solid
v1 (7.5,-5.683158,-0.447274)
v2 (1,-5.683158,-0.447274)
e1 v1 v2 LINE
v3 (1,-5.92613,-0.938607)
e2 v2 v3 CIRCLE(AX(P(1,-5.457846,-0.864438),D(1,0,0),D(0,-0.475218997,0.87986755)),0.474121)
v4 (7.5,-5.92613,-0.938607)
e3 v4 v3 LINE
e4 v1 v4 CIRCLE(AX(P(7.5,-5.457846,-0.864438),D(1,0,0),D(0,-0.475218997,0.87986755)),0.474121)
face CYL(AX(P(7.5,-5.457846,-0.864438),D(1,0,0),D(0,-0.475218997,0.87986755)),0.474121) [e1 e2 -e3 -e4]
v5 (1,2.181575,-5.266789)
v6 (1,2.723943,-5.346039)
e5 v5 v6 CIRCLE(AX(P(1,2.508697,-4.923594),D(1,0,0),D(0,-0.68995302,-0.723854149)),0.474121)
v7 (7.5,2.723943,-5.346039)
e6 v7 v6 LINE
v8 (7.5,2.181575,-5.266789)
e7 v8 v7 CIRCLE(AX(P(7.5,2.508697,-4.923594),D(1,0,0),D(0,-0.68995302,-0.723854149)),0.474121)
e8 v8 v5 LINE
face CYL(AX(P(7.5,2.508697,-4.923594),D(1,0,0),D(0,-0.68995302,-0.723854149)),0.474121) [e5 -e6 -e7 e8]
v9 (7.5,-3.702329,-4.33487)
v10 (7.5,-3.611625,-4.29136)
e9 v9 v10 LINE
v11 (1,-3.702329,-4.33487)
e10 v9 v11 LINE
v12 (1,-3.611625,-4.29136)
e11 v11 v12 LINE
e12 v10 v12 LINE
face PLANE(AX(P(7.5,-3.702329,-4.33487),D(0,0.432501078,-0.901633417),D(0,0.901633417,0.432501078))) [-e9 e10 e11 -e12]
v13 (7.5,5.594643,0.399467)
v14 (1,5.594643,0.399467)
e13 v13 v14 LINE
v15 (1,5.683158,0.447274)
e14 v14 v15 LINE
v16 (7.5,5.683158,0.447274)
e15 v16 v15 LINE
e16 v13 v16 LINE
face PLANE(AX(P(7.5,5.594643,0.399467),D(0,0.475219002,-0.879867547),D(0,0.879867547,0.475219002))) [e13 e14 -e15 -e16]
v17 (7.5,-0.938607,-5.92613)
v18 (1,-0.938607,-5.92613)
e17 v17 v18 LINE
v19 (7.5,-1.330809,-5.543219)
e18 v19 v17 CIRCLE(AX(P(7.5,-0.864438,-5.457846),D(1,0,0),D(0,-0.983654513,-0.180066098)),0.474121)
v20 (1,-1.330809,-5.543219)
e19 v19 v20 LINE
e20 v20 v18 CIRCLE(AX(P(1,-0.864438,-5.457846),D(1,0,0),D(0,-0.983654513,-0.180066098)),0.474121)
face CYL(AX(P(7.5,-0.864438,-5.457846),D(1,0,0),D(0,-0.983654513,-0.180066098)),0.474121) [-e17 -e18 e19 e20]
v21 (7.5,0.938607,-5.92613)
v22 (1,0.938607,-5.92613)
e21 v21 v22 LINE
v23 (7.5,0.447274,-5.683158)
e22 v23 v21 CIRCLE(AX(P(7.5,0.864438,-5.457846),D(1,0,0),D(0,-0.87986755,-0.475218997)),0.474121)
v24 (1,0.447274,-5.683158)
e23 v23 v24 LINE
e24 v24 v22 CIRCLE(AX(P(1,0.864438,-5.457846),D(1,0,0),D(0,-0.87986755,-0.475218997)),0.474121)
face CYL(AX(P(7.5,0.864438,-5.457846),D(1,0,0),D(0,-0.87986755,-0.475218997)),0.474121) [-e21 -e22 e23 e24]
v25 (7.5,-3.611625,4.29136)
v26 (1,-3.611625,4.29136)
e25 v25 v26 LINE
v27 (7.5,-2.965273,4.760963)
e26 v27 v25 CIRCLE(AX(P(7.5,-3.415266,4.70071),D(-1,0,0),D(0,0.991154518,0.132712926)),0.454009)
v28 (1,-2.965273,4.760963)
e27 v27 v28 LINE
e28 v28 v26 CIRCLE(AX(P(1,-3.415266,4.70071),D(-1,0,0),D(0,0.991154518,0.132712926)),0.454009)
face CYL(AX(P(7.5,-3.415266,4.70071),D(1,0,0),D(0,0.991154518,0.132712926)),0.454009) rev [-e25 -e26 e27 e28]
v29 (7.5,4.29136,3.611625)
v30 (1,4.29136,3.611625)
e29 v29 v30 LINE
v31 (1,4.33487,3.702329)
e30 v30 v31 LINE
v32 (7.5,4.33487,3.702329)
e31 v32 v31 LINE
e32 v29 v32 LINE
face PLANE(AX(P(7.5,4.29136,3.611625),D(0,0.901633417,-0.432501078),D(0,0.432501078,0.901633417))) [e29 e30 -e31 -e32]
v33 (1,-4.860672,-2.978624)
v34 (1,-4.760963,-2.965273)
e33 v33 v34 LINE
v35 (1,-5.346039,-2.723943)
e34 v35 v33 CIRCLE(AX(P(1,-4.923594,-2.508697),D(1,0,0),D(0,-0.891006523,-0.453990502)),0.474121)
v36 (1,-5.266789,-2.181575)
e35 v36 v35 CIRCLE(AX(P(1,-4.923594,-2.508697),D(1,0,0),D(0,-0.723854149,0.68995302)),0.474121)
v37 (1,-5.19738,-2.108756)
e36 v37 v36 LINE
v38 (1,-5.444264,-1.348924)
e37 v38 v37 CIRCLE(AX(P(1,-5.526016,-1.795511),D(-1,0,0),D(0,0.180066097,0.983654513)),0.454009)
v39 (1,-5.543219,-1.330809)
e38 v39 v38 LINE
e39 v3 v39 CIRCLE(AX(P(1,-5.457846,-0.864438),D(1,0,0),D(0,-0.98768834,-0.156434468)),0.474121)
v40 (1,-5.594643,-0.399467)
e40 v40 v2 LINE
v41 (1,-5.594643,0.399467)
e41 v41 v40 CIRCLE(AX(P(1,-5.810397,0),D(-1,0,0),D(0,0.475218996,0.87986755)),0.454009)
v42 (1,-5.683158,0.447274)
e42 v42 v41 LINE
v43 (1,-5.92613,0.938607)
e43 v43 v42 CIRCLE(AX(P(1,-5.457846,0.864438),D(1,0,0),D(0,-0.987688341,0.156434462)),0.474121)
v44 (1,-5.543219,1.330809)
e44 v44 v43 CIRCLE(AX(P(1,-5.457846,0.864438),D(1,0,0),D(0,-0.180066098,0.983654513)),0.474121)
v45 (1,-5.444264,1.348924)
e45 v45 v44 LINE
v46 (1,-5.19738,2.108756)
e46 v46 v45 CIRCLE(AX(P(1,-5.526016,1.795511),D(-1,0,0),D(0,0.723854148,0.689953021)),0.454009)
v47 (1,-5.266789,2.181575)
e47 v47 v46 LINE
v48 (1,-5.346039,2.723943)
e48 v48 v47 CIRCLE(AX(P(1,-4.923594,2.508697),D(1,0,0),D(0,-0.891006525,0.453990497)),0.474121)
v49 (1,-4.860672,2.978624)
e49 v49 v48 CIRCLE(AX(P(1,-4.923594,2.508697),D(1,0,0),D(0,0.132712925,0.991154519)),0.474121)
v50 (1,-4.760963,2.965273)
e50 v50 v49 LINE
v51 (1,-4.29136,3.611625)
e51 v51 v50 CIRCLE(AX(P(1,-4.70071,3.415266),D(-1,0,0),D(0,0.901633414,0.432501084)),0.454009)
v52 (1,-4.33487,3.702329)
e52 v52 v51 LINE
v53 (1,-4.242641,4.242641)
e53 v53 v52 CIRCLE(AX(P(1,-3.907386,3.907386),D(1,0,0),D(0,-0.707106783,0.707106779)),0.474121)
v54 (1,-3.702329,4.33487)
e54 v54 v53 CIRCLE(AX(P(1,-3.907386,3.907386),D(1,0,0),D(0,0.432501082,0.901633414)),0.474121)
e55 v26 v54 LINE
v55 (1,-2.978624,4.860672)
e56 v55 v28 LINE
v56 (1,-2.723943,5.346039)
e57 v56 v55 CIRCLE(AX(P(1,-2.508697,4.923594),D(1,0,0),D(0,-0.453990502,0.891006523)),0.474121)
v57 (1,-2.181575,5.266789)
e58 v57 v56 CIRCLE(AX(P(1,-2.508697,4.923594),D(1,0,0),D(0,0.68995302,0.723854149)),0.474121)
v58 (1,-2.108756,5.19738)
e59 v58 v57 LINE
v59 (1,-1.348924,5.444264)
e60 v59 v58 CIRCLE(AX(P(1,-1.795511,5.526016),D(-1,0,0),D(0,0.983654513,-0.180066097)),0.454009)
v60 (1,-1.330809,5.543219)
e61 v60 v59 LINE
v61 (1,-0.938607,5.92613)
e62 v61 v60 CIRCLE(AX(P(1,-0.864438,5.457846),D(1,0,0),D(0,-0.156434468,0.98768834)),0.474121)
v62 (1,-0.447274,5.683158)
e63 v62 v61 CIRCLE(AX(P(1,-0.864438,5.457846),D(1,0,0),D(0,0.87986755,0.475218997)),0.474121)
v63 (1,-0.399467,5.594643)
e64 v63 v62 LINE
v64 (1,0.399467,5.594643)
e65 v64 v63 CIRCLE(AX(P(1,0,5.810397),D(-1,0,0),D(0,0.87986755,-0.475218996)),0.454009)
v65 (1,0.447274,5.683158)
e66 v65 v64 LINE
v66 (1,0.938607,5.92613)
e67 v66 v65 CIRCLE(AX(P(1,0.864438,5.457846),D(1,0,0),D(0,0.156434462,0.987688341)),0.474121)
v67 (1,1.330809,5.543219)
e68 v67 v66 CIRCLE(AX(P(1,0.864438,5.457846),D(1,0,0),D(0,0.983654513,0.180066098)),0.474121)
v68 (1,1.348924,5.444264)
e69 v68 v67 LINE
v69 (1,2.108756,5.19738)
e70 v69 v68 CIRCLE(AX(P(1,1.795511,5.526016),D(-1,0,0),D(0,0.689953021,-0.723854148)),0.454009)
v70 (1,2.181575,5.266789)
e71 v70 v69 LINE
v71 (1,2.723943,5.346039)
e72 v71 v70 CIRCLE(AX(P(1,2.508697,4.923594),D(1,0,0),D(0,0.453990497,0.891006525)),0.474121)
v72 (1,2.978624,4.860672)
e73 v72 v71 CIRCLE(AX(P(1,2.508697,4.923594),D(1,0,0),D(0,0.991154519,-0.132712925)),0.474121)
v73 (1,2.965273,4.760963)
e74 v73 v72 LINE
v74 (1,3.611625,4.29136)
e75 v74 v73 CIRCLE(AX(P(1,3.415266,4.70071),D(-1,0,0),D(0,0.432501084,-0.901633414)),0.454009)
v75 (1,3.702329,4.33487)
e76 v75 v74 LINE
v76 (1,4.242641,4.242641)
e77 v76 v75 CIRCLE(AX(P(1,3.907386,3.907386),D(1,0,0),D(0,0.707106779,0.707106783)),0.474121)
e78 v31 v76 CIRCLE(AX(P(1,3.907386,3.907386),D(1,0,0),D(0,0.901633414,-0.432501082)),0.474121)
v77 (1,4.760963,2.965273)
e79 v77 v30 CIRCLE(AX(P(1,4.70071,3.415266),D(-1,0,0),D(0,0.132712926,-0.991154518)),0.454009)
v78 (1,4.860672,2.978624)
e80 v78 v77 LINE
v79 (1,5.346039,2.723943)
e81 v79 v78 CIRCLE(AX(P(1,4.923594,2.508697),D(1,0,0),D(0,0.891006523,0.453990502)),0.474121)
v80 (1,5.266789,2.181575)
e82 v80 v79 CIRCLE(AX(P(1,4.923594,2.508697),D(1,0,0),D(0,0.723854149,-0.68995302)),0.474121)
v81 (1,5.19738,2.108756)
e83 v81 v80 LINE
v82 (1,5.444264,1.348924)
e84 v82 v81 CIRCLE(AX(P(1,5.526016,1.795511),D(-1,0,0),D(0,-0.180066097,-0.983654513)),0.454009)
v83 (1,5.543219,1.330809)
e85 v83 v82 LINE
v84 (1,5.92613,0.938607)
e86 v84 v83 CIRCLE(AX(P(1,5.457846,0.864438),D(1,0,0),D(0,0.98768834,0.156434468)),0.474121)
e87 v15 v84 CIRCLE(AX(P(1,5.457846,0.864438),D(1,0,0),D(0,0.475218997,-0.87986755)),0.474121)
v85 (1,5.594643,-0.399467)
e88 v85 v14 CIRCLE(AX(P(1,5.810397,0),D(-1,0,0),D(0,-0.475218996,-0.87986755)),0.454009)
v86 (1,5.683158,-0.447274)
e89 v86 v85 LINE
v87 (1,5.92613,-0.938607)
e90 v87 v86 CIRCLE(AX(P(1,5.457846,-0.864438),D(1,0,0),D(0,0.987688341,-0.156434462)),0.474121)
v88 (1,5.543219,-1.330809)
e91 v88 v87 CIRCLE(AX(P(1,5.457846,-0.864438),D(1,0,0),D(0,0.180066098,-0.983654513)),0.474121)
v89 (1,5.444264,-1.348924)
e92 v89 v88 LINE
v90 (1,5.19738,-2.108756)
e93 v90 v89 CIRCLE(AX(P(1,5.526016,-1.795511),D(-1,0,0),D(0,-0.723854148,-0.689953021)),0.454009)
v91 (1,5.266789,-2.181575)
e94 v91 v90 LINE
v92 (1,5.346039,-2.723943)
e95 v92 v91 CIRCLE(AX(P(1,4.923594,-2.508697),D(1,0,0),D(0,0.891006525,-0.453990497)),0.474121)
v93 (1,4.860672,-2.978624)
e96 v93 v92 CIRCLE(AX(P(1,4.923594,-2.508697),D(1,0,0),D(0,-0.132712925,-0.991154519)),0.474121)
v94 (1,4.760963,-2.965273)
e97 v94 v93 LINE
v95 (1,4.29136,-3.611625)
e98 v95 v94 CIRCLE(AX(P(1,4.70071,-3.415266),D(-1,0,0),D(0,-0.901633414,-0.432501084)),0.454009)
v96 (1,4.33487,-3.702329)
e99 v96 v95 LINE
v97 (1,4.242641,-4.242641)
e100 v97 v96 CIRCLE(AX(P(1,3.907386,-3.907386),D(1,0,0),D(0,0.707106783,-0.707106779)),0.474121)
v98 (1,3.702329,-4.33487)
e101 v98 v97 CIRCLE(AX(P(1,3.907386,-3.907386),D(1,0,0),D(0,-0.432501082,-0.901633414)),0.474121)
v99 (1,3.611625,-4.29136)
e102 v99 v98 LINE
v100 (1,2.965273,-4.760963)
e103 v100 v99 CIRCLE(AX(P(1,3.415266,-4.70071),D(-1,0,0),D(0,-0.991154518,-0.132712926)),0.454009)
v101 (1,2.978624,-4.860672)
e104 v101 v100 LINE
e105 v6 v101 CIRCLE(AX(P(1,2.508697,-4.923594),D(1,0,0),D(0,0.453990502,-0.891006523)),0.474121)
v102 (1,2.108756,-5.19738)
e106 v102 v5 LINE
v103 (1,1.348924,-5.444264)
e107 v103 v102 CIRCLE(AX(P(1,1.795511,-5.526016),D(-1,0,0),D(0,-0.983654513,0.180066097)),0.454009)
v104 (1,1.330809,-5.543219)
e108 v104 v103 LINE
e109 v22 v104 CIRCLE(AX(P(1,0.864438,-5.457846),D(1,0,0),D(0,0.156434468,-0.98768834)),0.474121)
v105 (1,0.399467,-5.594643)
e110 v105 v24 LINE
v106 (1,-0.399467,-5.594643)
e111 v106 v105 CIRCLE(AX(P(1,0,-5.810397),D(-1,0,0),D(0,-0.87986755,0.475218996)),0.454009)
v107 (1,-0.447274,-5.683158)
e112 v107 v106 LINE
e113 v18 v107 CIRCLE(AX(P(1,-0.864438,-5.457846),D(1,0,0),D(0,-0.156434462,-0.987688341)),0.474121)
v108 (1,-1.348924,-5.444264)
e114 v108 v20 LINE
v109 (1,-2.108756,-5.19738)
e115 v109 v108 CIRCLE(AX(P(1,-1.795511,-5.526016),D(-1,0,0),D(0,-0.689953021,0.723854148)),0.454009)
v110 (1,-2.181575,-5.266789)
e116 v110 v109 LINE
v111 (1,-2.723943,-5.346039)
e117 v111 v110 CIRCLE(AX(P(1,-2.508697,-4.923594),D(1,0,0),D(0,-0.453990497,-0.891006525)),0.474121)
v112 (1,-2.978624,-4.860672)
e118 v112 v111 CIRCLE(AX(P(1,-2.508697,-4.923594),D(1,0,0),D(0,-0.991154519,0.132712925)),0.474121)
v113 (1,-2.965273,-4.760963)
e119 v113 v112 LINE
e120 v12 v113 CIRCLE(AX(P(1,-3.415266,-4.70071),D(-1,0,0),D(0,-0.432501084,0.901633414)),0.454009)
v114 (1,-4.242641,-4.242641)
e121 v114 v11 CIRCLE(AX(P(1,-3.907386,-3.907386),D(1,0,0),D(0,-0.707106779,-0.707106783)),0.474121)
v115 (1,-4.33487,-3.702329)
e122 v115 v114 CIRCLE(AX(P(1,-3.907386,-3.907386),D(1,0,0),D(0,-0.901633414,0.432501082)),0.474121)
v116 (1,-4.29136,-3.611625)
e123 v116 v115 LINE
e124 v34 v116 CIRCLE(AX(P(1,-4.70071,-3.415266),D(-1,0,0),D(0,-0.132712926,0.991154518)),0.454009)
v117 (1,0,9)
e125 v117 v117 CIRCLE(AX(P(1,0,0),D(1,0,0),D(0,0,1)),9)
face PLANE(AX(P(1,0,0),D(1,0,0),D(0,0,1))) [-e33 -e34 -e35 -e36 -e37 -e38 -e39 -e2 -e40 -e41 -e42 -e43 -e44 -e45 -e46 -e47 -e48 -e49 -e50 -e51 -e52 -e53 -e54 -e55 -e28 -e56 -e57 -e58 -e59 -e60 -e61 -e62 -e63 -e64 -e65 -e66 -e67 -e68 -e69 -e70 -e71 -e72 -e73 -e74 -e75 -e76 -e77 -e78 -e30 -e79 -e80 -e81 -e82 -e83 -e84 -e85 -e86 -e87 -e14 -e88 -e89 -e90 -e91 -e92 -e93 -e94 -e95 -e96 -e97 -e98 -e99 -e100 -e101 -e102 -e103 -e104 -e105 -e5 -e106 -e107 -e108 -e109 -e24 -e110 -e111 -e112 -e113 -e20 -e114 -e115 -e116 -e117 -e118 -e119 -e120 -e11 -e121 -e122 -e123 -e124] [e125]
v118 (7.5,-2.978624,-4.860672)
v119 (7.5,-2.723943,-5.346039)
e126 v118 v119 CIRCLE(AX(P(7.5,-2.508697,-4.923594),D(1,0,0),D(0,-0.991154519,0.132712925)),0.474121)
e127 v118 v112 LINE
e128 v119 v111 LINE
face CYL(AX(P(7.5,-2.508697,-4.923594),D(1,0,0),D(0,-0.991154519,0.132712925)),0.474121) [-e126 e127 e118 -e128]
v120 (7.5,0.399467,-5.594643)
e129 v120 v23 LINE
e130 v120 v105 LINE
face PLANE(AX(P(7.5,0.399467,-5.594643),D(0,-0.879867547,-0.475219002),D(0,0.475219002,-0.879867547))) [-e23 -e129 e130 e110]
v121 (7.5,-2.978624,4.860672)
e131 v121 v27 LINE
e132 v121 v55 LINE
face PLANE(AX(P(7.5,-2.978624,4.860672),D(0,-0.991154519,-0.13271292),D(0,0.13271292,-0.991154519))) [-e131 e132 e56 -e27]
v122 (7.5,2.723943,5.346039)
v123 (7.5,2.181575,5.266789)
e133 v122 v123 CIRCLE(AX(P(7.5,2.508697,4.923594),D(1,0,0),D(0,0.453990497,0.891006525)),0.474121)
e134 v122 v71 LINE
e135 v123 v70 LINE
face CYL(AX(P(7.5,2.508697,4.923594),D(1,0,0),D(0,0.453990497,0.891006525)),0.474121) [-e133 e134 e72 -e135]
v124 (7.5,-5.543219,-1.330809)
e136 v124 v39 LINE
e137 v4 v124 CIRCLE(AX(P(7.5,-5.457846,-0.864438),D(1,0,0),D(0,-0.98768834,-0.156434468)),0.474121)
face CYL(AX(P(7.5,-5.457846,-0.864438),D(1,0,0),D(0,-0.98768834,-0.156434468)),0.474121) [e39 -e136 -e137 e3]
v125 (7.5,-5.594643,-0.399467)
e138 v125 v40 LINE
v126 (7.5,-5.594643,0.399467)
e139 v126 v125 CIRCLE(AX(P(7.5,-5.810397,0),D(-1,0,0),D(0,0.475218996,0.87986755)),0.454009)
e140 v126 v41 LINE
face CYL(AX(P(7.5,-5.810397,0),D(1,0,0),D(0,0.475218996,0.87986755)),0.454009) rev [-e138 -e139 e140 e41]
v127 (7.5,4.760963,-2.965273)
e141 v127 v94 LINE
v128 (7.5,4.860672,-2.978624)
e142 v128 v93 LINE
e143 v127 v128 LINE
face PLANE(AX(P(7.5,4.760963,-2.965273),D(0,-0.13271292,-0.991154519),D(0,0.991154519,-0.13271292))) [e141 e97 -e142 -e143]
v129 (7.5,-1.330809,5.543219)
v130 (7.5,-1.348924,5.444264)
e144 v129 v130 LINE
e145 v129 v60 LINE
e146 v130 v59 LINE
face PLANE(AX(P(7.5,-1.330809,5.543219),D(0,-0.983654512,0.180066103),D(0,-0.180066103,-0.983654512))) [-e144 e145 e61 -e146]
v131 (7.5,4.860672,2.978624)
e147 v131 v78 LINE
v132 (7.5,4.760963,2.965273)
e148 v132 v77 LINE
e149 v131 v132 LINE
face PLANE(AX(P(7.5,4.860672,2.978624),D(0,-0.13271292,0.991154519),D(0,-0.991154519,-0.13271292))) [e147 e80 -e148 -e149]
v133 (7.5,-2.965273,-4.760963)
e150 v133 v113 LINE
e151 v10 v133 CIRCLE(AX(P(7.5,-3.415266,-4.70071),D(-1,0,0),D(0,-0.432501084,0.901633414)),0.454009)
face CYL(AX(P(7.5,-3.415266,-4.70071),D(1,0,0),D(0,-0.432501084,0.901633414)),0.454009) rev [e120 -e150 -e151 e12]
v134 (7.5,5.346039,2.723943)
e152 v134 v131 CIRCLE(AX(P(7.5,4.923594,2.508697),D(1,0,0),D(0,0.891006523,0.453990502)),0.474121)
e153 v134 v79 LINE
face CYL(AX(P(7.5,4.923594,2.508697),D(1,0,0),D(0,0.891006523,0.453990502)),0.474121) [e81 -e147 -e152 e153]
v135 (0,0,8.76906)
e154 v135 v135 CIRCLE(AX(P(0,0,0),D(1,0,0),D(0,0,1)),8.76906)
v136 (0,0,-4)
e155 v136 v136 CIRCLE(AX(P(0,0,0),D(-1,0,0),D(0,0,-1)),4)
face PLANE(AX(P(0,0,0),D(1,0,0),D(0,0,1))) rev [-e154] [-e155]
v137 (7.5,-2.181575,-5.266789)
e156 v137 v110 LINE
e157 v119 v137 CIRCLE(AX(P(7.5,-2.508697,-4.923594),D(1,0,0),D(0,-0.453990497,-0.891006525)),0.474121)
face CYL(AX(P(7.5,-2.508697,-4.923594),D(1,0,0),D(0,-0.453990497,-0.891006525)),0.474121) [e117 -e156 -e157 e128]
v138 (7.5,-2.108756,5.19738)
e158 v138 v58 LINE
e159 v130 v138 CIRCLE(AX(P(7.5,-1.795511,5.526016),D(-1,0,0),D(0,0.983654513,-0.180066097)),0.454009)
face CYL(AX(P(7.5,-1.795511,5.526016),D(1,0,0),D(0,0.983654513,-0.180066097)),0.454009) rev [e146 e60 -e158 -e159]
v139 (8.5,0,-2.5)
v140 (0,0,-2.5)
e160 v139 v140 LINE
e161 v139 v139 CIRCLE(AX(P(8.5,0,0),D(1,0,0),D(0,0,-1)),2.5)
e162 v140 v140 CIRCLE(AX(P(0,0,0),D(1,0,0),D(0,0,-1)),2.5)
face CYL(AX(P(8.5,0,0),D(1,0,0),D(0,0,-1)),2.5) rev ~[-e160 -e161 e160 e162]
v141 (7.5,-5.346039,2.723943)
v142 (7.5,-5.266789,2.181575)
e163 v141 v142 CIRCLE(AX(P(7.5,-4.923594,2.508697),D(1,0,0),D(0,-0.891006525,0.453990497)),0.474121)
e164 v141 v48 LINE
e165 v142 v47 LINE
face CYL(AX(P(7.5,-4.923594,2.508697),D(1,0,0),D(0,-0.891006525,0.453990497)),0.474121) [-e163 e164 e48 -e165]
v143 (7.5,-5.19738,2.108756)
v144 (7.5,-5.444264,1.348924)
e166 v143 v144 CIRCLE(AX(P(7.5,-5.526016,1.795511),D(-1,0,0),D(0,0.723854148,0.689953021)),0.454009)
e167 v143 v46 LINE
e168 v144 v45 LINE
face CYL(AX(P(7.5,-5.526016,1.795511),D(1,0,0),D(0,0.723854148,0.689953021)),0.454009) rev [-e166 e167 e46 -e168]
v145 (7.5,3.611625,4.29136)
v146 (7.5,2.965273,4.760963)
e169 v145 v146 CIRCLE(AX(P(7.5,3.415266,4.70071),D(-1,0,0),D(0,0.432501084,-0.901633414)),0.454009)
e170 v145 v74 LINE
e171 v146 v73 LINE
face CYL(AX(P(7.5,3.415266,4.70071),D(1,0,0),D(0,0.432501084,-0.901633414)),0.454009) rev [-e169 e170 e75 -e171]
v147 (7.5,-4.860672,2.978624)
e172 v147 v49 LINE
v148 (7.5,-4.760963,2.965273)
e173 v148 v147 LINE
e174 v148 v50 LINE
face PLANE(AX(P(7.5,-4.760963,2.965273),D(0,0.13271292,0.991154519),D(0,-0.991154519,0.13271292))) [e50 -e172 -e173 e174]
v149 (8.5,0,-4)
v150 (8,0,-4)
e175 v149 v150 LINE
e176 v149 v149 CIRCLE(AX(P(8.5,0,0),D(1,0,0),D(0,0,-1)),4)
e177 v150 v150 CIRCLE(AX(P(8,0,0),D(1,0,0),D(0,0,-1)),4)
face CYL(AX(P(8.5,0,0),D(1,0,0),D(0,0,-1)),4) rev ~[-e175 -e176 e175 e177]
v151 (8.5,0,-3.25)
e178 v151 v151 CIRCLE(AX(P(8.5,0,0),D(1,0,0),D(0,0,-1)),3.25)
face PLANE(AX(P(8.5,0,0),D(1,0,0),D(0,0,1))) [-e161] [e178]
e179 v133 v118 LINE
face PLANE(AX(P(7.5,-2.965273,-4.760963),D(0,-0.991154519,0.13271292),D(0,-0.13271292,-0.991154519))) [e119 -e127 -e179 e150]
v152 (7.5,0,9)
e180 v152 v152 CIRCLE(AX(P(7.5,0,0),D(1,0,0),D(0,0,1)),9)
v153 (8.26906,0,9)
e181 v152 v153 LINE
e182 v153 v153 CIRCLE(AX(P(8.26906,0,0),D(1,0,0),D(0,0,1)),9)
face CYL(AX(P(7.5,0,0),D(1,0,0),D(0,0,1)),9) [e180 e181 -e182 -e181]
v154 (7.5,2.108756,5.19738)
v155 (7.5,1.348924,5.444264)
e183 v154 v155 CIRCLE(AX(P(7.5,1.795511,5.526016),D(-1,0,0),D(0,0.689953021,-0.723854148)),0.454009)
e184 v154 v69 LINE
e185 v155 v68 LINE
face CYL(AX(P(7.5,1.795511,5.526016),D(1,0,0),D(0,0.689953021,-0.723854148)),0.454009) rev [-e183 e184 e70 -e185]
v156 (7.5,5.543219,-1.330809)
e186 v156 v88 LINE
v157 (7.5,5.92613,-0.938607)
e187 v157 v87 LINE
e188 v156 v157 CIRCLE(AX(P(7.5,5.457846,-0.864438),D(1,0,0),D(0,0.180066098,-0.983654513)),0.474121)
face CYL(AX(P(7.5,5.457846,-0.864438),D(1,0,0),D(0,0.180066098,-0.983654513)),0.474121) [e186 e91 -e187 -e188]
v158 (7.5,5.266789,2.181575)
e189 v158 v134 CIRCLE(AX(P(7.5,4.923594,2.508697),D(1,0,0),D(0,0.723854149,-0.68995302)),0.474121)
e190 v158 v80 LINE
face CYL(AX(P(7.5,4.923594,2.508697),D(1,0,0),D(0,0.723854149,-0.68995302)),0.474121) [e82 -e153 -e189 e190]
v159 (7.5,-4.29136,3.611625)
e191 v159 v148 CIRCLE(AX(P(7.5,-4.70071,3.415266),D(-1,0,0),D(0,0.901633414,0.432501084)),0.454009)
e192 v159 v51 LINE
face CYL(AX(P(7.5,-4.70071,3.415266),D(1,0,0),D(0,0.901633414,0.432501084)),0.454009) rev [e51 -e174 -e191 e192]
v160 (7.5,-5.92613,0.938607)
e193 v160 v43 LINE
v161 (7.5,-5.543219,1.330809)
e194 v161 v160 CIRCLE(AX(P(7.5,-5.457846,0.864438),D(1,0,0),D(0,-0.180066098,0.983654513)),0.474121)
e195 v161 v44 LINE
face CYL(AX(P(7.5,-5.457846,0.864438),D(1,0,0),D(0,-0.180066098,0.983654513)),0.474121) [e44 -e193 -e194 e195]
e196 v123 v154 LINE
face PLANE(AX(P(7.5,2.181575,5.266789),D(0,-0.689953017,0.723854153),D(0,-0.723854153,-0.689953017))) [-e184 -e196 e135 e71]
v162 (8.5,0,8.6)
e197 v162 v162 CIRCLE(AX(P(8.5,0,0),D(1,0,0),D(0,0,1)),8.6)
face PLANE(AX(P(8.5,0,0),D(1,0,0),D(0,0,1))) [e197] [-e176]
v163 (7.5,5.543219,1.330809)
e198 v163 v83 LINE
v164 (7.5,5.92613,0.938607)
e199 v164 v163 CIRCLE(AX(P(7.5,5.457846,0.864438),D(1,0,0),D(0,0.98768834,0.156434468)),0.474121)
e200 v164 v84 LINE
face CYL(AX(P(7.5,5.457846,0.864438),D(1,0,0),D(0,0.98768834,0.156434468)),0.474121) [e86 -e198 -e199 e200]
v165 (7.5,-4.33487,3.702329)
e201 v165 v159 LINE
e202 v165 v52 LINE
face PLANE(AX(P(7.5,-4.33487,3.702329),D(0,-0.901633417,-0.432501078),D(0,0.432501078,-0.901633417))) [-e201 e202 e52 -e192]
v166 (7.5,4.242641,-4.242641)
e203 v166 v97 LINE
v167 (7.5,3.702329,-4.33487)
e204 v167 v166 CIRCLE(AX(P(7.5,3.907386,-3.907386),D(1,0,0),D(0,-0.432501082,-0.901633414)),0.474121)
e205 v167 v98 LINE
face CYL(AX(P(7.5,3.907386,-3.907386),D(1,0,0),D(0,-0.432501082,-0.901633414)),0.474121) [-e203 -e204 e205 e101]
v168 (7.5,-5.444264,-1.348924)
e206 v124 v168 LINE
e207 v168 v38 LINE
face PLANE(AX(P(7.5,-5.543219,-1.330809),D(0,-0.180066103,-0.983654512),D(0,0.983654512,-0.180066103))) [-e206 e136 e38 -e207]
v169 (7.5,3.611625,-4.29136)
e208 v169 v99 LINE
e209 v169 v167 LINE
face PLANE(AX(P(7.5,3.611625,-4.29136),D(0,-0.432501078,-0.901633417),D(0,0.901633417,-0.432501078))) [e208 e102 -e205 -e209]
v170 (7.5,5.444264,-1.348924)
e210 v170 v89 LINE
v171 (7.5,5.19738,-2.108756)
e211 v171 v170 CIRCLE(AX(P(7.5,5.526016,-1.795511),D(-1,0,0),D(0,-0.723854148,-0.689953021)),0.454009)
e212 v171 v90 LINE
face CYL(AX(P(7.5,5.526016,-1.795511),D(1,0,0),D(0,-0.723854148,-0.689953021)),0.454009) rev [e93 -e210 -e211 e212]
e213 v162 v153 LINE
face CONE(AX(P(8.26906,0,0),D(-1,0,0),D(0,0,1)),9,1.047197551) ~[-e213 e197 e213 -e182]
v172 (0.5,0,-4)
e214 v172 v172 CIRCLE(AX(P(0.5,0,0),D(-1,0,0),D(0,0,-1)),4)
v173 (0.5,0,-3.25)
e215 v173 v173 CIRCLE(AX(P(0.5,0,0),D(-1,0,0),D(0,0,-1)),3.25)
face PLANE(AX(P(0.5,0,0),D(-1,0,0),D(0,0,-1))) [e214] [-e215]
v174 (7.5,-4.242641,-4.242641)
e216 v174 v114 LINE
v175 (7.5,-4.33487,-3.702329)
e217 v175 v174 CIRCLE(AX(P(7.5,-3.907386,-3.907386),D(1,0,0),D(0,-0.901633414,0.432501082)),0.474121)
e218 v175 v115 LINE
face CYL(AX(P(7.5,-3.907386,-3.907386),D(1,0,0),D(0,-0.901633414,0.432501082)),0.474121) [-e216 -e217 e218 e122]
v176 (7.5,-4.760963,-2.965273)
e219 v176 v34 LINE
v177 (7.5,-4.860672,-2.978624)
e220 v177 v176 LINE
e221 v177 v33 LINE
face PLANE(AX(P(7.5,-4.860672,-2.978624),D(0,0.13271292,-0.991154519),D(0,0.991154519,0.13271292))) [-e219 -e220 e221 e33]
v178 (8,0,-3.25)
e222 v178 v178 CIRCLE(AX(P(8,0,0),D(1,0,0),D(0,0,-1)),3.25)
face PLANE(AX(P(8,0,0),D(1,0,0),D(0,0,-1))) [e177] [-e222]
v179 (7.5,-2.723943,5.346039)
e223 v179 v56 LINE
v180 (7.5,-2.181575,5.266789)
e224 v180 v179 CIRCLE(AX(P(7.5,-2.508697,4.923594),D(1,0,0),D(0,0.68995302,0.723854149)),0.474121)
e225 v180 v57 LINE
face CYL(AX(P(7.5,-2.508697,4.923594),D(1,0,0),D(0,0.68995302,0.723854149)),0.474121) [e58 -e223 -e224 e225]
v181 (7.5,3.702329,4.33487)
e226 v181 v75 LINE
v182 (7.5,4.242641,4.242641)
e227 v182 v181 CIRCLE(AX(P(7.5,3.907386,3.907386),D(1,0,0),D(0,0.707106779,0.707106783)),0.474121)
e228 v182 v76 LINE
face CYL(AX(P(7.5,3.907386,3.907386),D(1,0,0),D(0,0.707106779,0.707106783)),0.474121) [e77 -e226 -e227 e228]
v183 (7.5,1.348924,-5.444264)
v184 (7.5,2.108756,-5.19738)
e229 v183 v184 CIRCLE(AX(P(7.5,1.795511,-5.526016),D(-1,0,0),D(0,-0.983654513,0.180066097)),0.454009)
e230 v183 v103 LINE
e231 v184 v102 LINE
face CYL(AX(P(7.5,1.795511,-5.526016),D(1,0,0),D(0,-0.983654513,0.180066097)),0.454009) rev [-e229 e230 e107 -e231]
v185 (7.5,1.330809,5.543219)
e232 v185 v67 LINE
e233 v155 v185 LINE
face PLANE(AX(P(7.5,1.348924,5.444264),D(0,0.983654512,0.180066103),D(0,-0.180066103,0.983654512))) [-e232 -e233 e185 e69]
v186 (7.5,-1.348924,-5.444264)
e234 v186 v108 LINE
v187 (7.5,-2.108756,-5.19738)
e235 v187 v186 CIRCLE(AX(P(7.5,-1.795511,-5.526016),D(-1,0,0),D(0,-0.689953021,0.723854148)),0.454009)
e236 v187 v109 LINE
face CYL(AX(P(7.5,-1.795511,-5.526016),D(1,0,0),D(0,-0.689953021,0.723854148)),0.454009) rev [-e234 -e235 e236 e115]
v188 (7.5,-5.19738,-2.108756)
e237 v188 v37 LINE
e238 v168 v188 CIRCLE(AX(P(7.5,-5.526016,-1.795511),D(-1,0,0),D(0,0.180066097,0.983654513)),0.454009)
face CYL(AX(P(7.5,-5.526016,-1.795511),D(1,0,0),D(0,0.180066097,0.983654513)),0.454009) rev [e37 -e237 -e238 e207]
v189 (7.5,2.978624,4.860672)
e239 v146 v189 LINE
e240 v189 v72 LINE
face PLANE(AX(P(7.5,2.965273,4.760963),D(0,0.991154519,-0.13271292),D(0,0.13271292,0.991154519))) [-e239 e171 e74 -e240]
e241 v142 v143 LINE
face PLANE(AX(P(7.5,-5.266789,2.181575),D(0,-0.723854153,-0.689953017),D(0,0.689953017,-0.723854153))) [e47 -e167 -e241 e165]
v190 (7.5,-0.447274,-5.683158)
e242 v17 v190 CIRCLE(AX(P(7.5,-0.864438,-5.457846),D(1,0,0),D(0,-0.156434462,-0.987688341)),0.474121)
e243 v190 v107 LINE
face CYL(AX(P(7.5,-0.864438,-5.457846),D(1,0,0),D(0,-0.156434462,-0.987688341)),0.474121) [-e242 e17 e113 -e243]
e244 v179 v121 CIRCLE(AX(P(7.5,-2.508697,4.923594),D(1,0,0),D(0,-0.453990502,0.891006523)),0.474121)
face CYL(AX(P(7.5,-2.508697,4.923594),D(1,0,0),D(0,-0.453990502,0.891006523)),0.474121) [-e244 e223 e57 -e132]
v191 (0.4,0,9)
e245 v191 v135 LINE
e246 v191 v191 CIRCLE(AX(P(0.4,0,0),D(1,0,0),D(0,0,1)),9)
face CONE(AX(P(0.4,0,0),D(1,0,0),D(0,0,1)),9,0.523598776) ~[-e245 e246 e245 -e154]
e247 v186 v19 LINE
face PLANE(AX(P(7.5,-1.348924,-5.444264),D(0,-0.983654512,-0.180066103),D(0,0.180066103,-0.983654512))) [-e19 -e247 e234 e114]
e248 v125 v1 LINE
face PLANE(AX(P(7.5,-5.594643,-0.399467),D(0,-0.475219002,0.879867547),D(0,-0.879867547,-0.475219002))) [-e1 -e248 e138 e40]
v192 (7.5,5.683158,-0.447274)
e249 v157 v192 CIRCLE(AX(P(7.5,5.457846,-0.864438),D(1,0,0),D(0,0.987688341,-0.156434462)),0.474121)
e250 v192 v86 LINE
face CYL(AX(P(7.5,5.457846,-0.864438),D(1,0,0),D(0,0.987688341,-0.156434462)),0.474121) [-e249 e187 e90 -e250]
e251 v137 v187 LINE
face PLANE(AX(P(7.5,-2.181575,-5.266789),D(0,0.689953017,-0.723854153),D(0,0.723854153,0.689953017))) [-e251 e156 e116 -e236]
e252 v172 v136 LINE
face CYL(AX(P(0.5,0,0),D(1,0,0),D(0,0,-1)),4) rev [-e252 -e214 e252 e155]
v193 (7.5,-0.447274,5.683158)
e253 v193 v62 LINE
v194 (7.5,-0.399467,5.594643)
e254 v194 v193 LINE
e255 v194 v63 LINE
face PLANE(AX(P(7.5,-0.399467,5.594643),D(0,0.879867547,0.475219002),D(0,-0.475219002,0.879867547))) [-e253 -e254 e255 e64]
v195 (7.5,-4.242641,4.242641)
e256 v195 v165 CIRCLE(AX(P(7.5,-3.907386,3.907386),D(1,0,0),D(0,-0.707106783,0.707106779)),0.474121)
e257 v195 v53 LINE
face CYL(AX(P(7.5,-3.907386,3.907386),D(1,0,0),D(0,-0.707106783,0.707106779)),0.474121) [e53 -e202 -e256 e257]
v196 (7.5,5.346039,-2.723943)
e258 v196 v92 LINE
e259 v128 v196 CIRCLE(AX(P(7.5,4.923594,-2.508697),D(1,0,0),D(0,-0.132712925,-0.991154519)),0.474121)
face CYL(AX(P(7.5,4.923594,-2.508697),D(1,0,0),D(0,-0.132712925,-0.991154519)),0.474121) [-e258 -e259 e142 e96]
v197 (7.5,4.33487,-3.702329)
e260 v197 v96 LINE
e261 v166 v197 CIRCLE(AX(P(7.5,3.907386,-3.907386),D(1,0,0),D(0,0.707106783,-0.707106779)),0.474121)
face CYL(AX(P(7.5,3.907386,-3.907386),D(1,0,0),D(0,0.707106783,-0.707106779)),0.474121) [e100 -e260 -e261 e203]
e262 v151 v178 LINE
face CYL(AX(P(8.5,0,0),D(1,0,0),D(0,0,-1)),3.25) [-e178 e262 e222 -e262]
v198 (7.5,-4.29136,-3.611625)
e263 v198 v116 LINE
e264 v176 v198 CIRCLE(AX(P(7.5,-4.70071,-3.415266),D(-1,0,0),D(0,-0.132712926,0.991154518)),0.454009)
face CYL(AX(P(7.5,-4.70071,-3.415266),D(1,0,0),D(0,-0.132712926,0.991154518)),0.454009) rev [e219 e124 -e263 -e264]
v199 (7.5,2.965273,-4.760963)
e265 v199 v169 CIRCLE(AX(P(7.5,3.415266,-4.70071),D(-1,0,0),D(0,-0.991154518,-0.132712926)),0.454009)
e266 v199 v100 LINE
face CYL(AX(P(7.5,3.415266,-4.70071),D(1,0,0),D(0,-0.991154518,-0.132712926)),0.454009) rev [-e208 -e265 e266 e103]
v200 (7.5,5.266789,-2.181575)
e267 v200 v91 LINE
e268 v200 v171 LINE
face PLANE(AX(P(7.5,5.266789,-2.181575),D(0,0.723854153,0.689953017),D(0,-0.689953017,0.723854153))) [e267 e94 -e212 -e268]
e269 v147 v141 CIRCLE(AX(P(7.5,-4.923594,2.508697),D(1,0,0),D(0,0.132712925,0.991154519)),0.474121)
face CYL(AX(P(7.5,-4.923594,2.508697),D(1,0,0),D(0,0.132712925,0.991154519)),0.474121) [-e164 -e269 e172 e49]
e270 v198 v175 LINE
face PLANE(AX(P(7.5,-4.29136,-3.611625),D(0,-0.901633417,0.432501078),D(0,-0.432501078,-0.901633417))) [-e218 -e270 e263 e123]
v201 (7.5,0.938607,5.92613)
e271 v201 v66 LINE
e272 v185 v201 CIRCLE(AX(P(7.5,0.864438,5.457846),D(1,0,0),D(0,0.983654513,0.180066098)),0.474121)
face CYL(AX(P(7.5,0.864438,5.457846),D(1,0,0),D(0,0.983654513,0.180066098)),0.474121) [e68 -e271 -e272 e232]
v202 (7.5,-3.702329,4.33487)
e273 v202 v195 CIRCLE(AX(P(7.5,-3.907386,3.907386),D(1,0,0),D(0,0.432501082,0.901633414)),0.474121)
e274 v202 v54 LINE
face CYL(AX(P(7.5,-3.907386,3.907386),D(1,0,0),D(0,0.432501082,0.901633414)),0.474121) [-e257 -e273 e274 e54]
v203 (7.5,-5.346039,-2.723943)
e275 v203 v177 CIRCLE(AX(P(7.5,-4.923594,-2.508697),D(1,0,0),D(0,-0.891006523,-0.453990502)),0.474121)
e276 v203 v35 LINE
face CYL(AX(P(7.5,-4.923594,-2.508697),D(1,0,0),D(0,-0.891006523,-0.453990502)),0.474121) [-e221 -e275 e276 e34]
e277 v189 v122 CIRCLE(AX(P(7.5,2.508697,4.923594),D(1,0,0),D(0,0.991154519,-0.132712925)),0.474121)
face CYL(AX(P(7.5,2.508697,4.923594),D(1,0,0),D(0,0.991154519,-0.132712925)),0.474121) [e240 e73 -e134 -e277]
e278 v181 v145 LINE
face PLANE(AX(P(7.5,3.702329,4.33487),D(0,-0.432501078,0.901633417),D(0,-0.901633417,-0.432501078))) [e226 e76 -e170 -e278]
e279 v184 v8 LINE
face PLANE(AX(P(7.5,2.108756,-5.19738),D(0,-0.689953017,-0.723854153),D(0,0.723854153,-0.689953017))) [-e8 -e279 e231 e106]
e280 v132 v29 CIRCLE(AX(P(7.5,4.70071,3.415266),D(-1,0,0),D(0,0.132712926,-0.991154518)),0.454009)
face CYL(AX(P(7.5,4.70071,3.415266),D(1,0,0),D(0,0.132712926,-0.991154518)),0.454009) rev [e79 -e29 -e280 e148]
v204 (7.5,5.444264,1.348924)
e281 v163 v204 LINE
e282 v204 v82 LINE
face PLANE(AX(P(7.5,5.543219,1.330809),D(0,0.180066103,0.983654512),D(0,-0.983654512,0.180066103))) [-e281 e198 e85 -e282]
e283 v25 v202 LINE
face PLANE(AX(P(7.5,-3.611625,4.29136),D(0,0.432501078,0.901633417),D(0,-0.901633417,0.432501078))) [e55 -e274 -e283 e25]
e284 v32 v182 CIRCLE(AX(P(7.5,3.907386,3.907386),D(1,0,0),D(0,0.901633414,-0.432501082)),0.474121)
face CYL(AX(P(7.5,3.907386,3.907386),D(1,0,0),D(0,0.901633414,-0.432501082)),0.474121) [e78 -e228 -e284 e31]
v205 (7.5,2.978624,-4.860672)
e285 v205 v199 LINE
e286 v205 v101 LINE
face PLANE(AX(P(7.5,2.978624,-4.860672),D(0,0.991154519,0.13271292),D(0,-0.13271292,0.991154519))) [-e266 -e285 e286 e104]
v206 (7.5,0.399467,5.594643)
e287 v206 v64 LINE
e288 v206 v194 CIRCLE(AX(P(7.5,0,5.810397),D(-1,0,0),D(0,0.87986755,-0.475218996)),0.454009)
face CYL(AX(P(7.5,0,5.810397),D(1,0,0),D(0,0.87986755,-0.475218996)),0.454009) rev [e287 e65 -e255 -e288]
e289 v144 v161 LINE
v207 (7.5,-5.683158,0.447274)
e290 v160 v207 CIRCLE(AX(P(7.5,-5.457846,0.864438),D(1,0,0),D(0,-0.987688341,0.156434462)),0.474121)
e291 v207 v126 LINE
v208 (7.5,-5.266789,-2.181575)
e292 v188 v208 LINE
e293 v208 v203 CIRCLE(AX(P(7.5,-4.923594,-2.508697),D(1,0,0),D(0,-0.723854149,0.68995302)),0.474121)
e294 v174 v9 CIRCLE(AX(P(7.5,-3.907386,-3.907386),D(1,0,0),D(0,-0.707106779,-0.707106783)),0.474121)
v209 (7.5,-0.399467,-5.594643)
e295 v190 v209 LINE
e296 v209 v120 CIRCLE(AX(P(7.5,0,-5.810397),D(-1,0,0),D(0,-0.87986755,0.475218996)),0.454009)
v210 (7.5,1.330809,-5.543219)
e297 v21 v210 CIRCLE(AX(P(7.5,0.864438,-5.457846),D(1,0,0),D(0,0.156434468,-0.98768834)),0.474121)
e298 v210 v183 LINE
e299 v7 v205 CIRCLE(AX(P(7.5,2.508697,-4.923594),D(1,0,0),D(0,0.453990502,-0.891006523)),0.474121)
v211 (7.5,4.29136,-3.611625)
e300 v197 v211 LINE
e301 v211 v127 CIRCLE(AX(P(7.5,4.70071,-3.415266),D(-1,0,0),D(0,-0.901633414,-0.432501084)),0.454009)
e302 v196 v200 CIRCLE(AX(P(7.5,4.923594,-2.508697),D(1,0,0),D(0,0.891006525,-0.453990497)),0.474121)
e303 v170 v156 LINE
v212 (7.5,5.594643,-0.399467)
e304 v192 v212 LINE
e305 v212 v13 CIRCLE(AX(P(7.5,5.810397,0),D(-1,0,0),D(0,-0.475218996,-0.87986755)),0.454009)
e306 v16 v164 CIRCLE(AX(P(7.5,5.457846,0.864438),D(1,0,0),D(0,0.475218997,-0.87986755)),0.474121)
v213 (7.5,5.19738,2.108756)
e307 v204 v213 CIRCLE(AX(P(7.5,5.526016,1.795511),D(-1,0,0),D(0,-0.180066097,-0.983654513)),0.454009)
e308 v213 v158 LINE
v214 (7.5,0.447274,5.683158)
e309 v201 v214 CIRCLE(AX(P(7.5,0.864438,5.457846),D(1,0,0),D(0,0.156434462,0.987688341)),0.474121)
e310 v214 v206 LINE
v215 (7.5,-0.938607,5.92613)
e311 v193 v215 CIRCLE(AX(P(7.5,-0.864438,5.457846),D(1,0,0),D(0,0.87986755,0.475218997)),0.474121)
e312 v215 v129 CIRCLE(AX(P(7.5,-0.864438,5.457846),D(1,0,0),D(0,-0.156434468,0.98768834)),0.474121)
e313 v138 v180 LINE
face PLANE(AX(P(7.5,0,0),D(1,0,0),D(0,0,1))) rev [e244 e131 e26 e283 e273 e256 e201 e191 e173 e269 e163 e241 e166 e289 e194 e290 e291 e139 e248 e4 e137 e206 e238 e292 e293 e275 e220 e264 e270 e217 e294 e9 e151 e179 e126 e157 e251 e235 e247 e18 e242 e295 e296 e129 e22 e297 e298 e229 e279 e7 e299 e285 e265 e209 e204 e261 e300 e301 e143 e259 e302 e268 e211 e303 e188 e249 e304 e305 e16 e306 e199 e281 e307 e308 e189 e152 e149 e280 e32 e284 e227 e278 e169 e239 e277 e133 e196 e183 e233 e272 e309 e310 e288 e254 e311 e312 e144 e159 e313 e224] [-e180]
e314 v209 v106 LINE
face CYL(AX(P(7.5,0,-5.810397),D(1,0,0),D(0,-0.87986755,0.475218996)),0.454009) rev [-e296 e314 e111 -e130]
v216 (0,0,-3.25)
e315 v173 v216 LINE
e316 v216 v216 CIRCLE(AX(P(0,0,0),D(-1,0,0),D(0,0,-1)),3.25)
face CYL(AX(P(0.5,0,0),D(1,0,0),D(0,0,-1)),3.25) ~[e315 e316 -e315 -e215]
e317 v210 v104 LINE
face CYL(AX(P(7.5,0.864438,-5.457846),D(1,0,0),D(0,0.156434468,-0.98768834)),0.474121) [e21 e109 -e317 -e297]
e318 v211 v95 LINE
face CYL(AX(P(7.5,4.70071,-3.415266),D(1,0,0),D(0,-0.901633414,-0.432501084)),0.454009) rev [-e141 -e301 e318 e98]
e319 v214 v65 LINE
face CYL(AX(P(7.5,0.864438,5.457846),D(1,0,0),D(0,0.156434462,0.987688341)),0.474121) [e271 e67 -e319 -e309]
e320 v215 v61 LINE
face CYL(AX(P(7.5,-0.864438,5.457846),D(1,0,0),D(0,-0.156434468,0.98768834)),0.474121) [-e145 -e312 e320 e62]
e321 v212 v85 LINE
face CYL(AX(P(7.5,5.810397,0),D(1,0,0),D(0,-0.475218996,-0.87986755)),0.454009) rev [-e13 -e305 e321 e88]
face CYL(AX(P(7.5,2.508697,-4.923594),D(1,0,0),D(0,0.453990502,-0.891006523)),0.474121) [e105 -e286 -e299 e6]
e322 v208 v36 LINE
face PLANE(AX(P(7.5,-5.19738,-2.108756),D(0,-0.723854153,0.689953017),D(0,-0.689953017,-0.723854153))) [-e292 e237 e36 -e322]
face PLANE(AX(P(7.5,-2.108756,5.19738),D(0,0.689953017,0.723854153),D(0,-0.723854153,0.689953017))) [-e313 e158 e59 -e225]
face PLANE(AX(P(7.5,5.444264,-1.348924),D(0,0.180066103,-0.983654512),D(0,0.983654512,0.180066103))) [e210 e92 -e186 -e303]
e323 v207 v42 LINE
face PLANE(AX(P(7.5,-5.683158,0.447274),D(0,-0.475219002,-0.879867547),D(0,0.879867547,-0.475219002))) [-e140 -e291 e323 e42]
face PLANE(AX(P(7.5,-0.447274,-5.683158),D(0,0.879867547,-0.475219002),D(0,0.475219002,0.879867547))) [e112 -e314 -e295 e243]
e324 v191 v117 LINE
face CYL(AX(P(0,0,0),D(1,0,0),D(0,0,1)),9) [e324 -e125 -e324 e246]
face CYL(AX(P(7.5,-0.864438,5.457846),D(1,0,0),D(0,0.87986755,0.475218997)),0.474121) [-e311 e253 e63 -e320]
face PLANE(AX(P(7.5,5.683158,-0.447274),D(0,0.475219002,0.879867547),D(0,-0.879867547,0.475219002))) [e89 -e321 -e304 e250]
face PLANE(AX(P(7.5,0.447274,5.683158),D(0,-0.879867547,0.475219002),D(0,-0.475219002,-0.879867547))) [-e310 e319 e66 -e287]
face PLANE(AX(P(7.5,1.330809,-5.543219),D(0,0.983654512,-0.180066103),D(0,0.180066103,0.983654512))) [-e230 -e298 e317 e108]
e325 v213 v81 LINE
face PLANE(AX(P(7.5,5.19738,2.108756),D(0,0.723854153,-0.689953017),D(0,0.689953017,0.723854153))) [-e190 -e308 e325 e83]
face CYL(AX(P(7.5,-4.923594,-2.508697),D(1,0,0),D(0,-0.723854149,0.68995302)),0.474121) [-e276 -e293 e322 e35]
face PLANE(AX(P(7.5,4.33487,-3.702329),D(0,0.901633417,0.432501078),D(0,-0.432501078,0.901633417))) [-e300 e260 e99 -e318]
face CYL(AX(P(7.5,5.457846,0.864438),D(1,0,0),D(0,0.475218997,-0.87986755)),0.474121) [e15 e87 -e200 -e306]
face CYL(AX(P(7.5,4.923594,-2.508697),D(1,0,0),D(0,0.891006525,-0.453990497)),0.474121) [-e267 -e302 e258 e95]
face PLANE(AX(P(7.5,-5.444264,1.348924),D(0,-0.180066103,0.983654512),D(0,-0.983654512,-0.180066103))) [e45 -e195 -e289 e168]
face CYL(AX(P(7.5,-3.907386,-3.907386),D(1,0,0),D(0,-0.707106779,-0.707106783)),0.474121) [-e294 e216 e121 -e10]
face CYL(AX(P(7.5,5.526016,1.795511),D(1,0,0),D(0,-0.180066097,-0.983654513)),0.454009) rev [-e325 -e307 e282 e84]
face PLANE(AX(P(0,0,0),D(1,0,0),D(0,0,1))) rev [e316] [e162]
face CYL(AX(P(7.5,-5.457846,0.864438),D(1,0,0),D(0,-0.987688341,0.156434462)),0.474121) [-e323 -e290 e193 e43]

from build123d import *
from OCP.BRepFilletAPI import BRepFilletAPI_MakeChamfer

# Parameters (mm, degrees)
CHAMFER1_SIZE      = 0.4
CHAMFER1_SIZE2     = 0.230940108
SKETCH2_R          = 2.5
CUT_EXTRUDE1_DEPTH = 16.305227865
SKETCH3_R          = 4
SKETCH3_R_2        = 3.25
CUT_EXTRUDE2_DEPTH = 0.5
CUT_EXTRUDE3_START = -0.5
SKETCH4_R          = 4
SKETCH4_R_2        = 3.25
CUT_EXTRUDE3_DEPTH = 0.5
CUT_EXTRUDE4_START = -1
CUT_EXTRUDE4_DEPTH = 6.5
CIRPATTERN1_COUNT  = 20


with BuildPart() as part:
    # Sketch1 → Revolve1 (revolve)
    with BuildSketch(Plane.XY):
        Polygon((0, 0), (0, 9), (1, 9), (1, 6), (7.5, 6), (7.5, 9), (8.5, 9), (8.5, 0), align=None)
    revolve(axis=Axis((0, 0, 0), (1, 0, 0)))

    # Chamfer1: one chamfer whose edges measure the first distance from different faces: ONE call of the kernel's chamfer builder (chamfer() names one face for all edges)
    chamfer1_edges_1 = [part.edges().sort_by_distance(p)[0] for p in [
        (0, -9, 0),
    ]]
    chamfer1_side_1 = [part.faces().sort_by_distance(p)[0] for p in [
        (0.5, -9, 0),
    ]]
    chamfer1_edges_2 = [part.edges().sort_by_distance(p)[0] for p in [
        (8.5, -9, 0),
    ]]
    chamfer1_side_2 = [part.faces().sort_by_distance(p)[0] for p in [
        (8.5, 0, 0),
    ]]
    chamfer1 = BRepFilletAPI_MakeChamfer(part.part.solid().wrapped)
    for e in chamfer1_edges_1:
        chamfer1.Add(CHAMFER1_SIZE, CHAMFER1_SIZE2, e.wrapped, chamfer1_side_1[0].wrapped)  # the first distance lies on this face
    for e in chamfer1_edges_2:
        chamfer1.Add(CHAMFER1_SIZE, CHAMFER1_SIZE2, e.wrapped, chamfer1_side_2[0].wrapped)  # the first distance lies on this face
    add(Compound.cast(chamfer1.Shape()), mode=Mode.REPLACE)

    # Sketch2 → Cut-Extrude1 (cut, through all)
    with BuildSketch(Plane(origin=(8.5, 0, 0), x_dir=(0, 0, -1), z_dir=(1, 0, 0))):
        Circle(SKETCH2_R)
    extrude(amount=-CUT_EXTRUDE1_DEPTH, mode=Mode.SUBTRACT)

    # Sketch3 → Cut-Extrude2 (cut)
    with BuildSketch(Plane(origin=(8.5, 0, 0), x_dir=(0, 0, -1), z_dir=(1, 0, 0))):
        Circle(SKETCH3_R)
        Circle(SKETCH3_R_2, mode=Mode.SUBTRACT)
    extrude(amount=-CUT_EXTRUDE2_DEPTH, mode=Mode.SUBTRACT)

    # Sketch4 → Cut-Extrude3 (cut)
    with BuildSketch(Plane.ZY.offset(CUT_EXTRUDE3_START)):
        Circle(SKETCH4_R)
        Circle(SKETCH4_R_2, mode=Mode.SUBTRACT)
    extrude(amount=CUT_EXTRUDE3_DEPTH, mode=Mode.SUBTRACT)

    # Sketch5 → Cut-Extrude4 (cut)
    with BuildSketch(Plane(origin=(8.5, 0, 0), x_dir=(0, 0, -1), z_dir=(1, 0, 0)).offset(CUT_EXTRUDE4_START)):
        with BuildLine():
            Line((-0.399467443, 5.594643379), (-0.447274199, 5.683157544))
            ThreePointArc((-0.447274199, 5.683157544), (-0.654270663, 5.882840909), (-0.93860679, 5.926130044))
            ThreePointArc((-0.93860679, 5.926130044), (0, 6), (0.93860679, 5.926130044))
            ThreePointArc((0.93860679, 5.926130044), (0.654270663, 5.882840909), (0.447274199, 5.683157544))
            Line((0.447274199, 5.683157544), (0.399467443, 5.594643379))
            ThreePointArc((0.399467443, 5.594643379), (0, 5.356388285), (-0.399467443, 5.594643379))
        make_face()
    cut_extrude4 = extrude(amount=-CUT_EXTRUDE4_DEPTH, mode=Mode.SUBTRACT)

    # CirPattern1: Cut-Extrude4 ×20 about axis
    cirpattern1_axis = Axis((0, 0, 0), (1, 0, 0))
    for i in range(1, CIRPATTERN1_COUNT):
        add(cut_extrude4.rotate(cirpattern1_axis, i * 360 / CIRPATTERN1_COUNT), mode=Mode.SUBTRACT)


solid = part.part
